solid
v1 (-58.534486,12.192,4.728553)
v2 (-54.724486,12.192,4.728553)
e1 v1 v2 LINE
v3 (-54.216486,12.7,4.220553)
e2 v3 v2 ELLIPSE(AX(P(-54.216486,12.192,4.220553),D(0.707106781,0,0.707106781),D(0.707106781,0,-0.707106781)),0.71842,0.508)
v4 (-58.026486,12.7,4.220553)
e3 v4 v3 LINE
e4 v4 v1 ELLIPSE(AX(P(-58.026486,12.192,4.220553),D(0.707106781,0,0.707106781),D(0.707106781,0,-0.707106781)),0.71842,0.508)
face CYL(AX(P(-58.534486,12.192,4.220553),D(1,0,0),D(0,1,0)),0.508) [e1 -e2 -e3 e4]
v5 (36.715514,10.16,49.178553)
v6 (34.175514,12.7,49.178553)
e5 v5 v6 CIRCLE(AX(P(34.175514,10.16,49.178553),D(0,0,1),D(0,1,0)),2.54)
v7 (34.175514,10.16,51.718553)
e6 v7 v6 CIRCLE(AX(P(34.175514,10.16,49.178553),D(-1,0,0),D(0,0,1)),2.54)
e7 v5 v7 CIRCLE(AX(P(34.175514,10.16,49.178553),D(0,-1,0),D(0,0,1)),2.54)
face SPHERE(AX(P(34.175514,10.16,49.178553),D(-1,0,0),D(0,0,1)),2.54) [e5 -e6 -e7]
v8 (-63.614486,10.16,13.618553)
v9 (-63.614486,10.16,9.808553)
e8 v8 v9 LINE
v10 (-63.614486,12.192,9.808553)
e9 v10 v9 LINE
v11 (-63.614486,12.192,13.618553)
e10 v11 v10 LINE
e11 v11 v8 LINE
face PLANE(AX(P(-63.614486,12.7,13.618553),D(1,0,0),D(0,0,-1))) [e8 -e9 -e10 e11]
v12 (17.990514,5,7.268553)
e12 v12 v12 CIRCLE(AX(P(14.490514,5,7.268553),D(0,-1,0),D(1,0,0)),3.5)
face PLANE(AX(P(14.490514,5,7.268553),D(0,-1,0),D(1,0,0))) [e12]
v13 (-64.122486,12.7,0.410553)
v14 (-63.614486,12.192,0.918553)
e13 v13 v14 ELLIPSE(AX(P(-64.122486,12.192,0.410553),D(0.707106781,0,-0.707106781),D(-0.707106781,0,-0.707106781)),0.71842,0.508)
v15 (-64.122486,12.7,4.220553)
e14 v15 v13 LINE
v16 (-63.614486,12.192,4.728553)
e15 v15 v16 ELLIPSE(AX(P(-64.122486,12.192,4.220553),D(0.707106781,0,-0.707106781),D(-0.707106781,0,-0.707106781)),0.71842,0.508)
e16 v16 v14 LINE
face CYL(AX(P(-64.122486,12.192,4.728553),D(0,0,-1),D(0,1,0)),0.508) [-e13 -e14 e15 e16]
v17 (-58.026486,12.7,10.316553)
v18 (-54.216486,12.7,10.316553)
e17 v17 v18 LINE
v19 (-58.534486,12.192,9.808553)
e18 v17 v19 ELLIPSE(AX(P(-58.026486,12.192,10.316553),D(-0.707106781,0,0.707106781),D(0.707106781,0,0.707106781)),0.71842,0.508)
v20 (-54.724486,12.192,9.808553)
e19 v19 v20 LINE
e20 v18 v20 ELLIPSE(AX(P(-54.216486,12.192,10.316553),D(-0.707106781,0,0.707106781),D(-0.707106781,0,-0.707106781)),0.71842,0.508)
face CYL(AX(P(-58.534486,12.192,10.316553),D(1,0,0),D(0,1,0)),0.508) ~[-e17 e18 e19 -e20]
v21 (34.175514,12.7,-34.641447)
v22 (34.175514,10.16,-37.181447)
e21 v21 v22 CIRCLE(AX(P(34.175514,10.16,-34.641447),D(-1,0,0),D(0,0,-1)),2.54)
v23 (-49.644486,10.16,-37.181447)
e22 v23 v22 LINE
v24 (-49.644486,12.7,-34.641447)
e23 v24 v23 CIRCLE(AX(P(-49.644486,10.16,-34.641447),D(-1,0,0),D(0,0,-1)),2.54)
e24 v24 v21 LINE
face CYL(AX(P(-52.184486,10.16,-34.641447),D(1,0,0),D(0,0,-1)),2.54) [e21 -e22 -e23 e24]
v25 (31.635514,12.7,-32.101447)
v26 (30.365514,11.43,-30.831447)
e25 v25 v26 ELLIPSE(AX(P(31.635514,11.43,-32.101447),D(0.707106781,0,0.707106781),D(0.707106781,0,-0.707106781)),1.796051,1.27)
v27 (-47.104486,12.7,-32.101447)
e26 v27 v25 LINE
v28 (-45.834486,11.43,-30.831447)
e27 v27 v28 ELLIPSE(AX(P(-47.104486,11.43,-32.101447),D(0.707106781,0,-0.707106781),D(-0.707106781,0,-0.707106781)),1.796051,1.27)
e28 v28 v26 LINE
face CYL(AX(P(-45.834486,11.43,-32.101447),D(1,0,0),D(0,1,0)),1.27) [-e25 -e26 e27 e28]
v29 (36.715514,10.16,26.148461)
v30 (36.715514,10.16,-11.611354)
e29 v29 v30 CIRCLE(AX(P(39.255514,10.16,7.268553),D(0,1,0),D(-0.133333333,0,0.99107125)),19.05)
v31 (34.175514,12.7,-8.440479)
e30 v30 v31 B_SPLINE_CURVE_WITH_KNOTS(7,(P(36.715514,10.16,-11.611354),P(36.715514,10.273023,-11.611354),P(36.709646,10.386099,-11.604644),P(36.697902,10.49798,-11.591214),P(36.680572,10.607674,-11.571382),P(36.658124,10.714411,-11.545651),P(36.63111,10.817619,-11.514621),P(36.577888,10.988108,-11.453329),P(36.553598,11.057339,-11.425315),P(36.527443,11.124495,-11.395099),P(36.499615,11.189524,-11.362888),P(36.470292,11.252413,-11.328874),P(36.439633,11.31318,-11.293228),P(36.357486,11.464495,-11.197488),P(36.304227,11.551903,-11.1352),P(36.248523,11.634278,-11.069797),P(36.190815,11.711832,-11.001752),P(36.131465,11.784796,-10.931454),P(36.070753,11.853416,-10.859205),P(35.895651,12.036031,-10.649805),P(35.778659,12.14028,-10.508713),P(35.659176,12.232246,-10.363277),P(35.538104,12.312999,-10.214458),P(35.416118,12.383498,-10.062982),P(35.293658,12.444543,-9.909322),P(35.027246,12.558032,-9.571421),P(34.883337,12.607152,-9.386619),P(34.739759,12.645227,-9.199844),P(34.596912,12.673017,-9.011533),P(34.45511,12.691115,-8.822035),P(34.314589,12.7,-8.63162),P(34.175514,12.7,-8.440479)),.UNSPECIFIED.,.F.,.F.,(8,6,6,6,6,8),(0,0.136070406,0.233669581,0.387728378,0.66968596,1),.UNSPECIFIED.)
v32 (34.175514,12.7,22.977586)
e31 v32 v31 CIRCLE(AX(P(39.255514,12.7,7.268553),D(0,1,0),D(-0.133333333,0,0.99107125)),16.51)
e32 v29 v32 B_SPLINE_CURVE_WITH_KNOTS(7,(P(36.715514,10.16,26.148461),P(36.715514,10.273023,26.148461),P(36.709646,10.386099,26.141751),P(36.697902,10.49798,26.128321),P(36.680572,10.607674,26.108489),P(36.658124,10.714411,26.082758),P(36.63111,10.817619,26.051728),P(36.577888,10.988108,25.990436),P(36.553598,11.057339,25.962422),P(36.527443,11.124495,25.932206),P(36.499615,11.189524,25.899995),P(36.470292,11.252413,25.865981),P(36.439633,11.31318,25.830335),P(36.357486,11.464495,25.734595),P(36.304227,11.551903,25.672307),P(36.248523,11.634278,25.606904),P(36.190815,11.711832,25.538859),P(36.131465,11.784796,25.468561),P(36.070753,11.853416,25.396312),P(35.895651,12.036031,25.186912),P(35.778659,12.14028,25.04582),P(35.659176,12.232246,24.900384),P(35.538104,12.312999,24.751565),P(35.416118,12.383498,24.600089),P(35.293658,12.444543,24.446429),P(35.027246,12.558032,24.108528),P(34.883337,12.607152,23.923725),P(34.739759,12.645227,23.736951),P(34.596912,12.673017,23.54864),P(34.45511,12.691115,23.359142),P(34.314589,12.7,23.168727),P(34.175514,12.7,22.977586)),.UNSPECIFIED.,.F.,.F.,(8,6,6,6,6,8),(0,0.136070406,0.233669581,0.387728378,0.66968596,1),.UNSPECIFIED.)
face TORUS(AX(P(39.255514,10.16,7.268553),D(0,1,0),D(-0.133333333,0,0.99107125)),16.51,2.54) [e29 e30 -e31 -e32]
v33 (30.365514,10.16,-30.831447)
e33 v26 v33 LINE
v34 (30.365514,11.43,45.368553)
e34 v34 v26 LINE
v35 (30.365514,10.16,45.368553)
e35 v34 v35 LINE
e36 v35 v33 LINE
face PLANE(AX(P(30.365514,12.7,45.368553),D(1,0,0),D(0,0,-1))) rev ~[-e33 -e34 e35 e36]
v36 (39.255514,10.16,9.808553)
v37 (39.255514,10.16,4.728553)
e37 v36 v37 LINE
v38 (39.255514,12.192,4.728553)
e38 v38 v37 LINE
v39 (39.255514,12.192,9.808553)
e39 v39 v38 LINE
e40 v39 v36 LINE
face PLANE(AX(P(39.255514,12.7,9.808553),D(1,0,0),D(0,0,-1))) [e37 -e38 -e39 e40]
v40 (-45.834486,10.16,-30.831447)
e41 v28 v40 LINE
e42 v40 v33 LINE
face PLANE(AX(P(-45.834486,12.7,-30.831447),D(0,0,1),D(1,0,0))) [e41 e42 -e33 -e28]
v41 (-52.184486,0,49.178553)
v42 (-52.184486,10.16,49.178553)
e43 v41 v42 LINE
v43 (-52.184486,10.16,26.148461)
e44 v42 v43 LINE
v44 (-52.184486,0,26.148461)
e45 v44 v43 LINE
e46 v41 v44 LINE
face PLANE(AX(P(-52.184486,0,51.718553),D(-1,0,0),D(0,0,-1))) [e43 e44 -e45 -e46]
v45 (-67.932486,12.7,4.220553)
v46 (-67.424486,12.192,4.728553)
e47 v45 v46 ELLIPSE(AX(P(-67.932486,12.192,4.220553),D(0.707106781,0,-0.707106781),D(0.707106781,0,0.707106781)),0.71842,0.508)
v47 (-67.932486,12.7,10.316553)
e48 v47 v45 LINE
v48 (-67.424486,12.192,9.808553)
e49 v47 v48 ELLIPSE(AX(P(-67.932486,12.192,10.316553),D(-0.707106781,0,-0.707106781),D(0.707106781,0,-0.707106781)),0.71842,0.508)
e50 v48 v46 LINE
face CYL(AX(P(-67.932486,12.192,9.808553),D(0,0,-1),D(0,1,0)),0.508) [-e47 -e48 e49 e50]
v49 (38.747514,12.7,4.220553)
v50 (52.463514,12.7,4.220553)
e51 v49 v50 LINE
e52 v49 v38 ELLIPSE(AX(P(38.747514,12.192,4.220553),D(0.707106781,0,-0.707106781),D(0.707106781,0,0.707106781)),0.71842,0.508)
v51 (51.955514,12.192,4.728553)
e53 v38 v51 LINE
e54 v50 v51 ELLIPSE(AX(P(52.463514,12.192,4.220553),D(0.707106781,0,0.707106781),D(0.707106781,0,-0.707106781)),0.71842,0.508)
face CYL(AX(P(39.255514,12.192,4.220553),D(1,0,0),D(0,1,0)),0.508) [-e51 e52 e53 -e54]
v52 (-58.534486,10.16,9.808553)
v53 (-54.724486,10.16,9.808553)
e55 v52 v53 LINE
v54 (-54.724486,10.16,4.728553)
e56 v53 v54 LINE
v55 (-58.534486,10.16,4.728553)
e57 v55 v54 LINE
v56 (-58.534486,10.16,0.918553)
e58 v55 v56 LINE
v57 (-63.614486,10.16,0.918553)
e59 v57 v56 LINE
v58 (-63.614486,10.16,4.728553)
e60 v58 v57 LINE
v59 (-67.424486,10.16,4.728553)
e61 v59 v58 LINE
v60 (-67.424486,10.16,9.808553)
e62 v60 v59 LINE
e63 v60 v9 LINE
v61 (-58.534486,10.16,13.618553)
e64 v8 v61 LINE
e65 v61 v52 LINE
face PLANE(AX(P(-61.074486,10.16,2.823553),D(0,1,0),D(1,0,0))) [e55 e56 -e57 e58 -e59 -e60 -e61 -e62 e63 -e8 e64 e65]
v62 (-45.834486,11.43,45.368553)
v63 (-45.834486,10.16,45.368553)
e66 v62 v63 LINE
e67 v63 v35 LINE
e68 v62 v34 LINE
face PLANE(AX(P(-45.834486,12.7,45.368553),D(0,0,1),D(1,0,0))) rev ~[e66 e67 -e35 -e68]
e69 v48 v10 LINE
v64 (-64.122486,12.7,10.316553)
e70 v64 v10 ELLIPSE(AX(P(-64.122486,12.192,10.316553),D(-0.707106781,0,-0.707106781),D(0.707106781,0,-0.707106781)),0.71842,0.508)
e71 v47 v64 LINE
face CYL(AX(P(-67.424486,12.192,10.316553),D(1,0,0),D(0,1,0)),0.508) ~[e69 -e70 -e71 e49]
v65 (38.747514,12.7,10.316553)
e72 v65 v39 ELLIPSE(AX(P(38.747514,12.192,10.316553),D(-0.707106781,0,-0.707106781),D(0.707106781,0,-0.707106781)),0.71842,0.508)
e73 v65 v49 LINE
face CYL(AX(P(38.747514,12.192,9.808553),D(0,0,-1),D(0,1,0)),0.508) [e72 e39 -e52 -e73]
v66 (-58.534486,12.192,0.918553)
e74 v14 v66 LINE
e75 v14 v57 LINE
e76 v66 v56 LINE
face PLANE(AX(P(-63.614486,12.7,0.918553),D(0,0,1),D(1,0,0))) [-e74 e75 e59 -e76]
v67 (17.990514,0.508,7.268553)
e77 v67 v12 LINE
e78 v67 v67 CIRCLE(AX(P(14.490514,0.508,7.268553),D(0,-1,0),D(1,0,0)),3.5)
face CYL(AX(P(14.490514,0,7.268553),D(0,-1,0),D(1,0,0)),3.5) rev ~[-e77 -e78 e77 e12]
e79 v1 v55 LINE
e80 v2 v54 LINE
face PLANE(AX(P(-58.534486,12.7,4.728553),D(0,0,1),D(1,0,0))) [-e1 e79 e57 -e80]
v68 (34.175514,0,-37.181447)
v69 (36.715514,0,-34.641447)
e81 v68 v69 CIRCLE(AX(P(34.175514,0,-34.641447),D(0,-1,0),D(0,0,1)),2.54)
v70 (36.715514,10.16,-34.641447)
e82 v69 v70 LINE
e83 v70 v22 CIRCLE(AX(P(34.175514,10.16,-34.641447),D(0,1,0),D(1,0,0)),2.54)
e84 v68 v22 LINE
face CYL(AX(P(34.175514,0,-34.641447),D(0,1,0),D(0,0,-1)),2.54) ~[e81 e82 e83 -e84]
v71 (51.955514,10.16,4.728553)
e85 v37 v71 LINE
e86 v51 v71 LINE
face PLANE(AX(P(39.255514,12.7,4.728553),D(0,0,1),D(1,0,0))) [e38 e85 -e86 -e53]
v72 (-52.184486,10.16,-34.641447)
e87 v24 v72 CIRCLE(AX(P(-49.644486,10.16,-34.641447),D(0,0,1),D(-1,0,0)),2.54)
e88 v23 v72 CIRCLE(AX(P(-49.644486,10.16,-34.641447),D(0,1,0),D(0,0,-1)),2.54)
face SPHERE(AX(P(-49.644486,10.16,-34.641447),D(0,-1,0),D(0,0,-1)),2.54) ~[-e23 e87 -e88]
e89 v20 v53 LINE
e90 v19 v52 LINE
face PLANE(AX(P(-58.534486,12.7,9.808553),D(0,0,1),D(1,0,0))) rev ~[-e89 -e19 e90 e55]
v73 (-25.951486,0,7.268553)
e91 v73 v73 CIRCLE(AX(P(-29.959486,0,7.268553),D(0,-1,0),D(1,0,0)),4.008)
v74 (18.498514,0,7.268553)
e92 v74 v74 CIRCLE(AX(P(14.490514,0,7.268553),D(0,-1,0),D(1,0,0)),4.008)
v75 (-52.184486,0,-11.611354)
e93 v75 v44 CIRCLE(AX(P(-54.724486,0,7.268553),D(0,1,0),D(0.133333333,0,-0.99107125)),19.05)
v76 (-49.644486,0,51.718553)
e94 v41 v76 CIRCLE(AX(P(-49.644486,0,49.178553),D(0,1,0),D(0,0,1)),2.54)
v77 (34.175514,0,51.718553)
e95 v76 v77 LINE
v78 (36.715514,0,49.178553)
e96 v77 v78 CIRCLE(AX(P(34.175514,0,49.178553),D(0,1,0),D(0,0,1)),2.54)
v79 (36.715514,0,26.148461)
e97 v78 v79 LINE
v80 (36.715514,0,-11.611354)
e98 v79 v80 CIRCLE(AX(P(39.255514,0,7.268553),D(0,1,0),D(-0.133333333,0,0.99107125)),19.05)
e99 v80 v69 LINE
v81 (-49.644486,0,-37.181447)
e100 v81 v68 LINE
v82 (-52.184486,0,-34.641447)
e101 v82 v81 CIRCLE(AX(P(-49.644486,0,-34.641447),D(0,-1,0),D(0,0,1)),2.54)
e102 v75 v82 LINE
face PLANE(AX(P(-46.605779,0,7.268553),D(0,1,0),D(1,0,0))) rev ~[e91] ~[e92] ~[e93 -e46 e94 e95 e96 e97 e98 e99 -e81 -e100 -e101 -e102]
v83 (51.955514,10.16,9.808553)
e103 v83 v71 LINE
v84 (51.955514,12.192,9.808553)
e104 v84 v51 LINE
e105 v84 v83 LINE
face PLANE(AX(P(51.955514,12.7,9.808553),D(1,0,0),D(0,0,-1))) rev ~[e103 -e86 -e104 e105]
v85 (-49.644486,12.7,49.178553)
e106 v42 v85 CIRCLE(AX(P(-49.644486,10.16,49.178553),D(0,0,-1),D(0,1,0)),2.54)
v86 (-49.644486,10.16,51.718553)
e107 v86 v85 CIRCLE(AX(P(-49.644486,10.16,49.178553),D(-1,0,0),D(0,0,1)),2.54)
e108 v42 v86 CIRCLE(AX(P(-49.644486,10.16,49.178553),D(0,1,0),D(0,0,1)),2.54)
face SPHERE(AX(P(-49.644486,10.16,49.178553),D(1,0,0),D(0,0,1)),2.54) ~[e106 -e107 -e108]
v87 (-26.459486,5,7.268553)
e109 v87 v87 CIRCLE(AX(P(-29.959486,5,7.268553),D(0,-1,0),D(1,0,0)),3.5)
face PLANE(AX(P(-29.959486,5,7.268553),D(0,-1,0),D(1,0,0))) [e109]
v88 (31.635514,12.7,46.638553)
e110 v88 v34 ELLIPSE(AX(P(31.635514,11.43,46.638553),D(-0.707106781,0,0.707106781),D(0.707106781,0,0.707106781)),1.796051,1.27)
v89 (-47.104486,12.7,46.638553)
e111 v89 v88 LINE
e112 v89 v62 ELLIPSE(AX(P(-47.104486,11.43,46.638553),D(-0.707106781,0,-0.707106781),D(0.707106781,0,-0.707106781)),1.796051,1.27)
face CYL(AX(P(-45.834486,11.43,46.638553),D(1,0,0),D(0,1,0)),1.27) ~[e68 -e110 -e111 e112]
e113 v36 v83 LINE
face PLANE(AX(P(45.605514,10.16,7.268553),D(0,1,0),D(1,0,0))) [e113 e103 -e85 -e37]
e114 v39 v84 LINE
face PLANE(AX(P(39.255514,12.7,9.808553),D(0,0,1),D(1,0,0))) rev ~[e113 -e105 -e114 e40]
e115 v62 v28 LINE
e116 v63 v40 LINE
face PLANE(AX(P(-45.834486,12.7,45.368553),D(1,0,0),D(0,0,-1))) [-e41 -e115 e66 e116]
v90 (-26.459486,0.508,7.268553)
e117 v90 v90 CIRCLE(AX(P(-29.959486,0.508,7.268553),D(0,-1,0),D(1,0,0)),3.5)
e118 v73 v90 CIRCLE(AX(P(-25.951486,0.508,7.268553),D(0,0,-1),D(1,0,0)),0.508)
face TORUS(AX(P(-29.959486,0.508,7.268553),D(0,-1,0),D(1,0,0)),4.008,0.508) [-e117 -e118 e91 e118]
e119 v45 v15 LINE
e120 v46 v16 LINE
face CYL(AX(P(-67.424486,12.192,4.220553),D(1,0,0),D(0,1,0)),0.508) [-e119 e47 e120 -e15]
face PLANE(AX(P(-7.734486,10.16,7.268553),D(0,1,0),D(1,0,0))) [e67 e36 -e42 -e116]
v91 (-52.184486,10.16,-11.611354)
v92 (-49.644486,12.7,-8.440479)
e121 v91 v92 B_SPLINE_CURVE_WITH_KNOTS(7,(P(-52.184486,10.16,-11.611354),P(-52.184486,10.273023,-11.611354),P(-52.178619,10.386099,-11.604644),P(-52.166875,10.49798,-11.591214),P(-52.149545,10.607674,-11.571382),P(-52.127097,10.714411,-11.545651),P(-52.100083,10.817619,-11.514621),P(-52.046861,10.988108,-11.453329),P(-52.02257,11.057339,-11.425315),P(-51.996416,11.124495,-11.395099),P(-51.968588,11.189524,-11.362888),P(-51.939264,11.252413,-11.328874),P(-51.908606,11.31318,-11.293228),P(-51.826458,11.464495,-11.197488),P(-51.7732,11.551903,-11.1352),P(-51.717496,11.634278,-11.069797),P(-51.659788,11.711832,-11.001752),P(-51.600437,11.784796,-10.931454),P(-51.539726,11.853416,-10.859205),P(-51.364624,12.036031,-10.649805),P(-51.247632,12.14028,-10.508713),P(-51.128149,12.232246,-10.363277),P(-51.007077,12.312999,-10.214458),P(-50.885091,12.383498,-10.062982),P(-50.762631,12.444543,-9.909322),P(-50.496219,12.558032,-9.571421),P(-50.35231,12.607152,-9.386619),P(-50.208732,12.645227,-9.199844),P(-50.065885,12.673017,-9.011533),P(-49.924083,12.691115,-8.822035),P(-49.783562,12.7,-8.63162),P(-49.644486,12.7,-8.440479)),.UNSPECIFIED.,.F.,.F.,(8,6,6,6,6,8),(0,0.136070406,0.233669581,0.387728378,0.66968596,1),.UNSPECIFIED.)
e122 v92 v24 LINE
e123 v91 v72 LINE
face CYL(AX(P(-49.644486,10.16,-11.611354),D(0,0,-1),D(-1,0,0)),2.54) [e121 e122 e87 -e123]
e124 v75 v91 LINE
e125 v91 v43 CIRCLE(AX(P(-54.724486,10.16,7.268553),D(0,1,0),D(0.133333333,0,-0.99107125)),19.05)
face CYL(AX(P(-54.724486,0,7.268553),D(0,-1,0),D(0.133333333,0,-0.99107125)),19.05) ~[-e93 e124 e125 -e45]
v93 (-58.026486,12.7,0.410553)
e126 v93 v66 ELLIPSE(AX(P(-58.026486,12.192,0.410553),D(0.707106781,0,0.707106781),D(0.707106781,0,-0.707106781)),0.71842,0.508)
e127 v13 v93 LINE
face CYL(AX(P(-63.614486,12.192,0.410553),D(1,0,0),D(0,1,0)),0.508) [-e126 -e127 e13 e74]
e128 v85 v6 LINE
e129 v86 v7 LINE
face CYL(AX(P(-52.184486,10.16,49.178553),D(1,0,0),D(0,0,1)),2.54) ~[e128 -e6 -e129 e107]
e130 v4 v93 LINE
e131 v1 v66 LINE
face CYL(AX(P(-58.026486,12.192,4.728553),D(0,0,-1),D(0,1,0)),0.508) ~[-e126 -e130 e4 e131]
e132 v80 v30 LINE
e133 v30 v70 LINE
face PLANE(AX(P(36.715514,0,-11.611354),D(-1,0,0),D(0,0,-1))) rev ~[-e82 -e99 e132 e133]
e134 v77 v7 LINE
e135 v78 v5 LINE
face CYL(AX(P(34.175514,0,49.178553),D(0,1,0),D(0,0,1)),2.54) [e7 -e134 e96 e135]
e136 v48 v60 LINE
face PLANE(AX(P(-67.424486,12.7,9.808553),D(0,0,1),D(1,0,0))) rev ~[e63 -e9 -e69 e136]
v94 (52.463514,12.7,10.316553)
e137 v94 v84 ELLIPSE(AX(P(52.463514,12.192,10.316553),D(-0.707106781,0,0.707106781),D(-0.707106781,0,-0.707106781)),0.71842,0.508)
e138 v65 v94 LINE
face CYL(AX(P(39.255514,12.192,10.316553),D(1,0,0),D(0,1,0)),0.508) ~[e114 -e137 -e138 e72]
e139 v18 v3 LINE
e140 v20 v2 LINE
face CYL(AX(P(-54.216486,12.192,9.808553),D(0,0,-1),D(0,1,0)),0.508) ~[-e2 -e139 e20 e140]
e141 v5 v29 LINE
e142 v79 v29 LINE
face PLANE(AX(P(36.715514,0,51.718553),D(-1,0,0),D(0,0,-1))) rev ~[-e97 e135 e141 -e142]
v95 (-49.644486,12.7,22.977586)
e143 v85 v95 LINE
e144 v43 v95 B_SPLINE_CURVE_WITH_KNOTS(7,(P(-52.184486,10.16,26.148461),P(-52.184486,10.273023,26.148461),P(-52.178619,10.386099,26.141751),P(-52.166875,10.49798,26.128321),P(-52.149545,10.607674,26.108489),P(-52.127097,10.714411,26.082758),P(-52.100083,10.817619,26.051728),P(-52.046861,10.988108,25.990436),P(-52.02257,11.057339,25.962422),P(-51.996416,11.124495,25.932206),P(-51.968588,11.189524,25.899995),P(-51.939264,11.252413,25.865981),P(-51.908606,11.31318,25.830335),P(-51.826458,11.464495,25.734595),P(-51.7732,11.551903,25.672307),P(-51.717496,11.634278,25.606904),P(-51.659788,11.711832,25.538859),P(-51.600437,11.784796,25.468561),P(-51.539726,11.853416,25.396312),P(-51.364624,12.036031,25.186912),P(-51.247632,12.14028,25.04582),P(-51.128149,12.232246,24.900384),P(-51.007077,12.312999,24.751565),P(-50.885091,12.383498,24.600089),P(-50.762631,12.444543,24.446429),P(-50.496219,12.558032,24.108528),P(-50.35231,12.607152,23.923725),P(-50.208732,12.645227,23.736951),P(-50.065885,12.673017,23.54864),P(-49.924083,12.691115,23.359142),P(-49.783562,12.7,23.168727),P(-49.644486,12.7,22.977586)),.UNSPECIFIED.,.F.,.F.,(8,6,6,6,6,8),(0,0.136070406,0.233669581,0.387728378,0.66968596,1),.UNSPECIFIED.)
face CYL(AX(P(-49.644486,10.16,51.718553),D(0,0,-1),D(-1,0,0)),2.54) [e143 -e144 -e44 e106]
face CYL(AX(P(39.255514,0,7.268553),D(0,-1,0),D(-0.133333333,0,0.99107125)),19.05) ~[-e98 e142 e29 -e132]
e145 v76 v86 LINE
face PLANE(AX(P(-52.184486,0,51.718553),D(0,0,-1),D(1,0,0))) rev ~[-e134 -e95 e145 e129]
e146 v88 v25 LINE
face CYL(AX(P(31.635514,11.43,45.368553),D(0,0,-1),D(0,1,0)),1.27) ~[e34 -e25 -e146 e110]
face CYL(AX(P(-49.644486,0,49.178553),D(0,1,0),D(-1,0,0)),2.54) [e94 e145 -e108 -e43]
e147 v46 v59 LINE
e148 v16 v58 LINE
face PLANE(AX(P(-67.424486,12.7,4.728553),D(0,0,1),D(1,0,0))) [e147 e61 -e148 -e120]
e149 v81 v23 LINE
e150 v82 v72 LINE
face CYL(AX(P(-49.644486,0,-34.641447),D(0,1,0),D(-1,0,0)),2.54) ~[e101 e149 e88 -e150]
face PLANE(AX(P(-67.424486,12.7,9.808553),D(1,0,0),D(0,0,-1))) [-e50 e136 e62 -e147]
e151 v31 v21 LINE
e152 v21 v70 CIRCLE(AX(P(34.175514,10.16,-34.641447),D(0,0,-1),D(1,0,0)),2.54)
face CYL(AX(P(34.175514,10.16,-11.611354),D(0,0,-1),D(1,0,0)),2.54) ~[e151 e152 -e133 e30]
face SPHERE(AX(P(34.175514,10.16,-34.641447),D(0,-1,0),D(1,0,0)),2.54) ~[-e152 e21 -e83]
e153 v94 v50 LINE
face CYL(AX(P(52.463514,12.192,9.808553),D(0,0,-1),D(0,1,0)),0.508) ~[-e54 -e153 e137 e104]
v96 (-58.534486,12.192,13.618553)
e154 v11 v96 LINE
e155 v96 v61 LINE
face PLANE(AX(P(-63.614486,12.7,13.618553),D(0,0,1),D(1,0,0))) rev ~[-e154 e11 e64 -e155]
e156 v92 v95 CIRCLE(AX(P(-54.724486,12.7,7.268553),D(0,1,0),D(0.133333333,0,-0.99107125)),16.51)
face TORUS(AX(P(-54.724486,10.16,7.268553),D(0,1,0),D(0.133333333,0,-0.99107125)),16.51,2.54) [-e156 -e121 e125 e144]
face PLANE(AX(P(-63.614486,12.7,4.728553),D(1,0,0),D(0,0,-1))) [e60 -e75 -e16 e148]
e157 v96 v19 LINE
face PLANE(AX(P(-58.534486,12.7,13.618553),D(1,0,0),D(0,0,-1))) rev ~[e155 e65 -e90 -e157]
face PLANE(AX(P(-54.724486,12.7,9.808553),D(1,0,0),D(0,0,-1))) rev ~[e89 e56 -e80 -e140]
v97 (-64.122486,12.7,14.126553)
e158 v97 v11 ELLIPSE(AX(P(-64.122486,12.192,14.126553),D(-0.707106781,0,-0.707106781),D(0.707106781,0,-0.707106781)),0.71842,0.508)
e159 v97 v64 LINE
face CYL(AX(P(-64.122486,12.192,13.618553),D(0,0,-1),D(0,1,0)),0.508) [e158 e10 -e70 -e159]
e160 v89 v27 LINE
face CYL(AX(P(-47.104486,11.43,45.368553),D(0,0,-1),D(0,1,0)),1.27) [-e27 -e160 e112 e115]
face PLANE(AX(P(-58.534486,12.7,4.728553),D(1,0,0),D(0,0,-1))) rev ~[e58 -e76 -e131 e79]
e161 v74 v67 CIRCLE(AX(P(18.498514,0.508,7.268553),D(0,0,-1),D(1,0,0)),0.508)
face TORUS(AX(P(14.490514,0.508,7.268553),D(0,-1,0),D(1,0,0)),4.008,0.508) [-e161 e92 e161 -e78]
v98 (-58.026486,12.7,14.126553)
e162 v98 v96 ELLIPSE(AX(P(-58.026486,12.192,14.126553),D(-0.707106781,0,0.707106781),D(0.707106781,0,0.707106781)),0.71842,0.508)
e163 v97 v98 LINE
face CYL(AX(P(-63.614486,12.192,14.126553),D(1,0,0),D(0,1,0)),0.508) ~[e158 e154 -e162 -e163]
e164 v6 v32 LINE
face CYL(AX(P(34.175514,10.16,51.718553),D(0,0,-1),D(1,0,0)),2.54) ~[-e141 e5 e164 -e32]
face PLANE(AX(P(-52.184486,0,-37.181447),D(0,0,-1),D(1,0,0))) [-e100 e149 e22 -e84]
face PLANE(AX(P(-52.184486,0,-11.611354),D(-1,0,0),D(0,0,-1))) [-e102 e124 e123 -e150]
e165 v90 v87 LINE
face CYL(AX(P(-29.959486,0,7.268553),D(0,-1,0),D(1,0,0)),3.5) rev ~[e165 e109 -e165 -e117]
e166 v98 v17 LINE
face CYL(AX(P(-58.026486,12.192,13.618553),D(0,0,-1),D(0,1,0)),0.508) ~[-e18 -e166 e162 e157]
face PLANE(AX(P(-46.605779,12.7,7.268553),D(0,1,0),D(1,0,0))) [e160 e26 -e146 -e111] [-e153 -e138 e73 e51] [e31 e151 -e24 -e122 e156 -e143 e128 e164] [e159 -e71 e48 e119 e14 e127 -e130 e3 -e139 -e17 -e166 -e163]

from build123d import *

# Parameters (mm, degrees)
SKETCH1_R           = 19.05
SKETCH1_W           = 88.9
SKETCH1_H           = 88.9
BOSS_EXTRUDE1_DEPTH = 12.7
SKETCH2_W           = 76.2
SKETCH2_H           = 76.2
CUT_EXTRUDE1_DEPTH  = 2.54
SKETCH3_W           = 5.08
SKETCH3_H           = 3.81
SKETCH3_W_2         = 3.81
SKETCH3_H_2         = 5.08
SKETCH3_W_3         = 12.7
CUT_EXTRUDE2_DEPTH  = 2.54
SKETCH4_R           = 3.5
CUT_EXTRUDE4_DEPTH  = 5
FILLET8_R           = 0.508
FILLET9_R           = 2.54
FILLET10_R          = 0.508
FILLET11_R          = 1.27


with BuildPart() as part:
    # Sketch1 → Boss-Extrude1 (new body)
    with BuildSketch(Plane(origin=(0, 0, 0), x_dir=(1, 0, 0), z_dir=(0, 1, 0))):
        with BuildLine():
            ThreePointArc((-35.674486373, -7.268553459), (-40.384167339, 5.271691754), (-52.184486373, 11.61135385))
            Line((-52.184486373, 11.61135385), (-52.184486373, -26.148460768))
            ThreePointArc((-52.184486373, -26.148460768), (-40.384167339, -19.808798672), (-35.674486373, -7.268553459))
        make_face()
        with BuildLine():
            Line((-52.184486373, -26.148460768), (-52.184486373, 11.61135385))
            ThreePointArc((-52.184486373, 11.61135385), (-73.774486373, -7.268553459), (-52.184486373, -26.148460768))
        make_face()
        with Locations((39.255513627, -7.268553459)):
            Circle(SKETCH1_R)
        with Locations((-54.724486373, -7.268553459)):
            Circle(SKETCH1_R)
        with Locations((-7.734486373, -7.268553459)):
            Rectangle(SKETCH1_W, SKETCH1_H)
        with BuildLine():
            ThreePointArc((58.305513627, -7.268553459), (51.79575884, 7.071765575), (36.715513627, 11.61135385))
            Line((36.715513627, 11.61135385), (36.715513627, -26.148460768))
            ThreePointArc((36.715513627, -26.148460768), (51.79575884, -21.608872493), (58.305513627, -7.268553459))
        make_face()
        with BuildLine():
            Line((36.715513627, -26.148460768), (36.715513627, 11.61135385))
            ThreePointArc((36.715513627, 11.61135385), (20.205513627, -7.268553459), (36.715513627, -26.148460768))
        make_face()
    extrude(amount=BOSS_EXTRUDE1_DEPTH)

    # Sketch2 → Cut-Extrude1 (cut)
    with BuildSketch(Plane(origin=(0, 12.7, 0), x_dir=(1, 0, 0), z_dir=(0, 1, 0))):
        with Locations((-7.734486373, -7.268553459)):
            Rectangle(SKETCH2_W, SKETCH2_H)
    extrude(amount=-CUT_EXTRUDE1_DEPTH, mode=Mode.SUBTRACT)

    # Sketch3 → Cut-Extrude2 (cut)
    with BuildSketch(Plane(origin=(0, 12.7, 0), x_dir=(1, 0, 0), z_dir=(0, 1, 0))):
        with Locations((-61.074486373, -2.823553459)):
            Rectangle(SKETCH3_W, SKETCH3_H)
        with Locations((-65.519486373, -7.268553459)):
            Rectangle(SKETCH3_W_2, SKETCH3_H_2)
        with Locations((-61.074486373, -7.268553459)):
            Rectangle(SKETCH3_W, SKETCH3_H_2)
        with Locations((-56.629486373, -7.268553459)):
            Rectangle(SKETCH3_W_2, SKETCH3_H_2)
        with Locations((-61.074486373, -11.713553459)):
            Rectangle(SKETCH3_W, SKETCH3_H)
        with Locations((45.605513627, -7.268553459)):
            Rectangle(SKETCH3_W_3, SKETCH3_H_2)
    extrude(amount=-CUT_EXTRUDE2_DEPTH, mode=Mode.SUBTRACT)

    # Sketch4 → Cut-Extrude4 (cut)
    with BuildSketch(Plane.XZ):
        with Locations((-29.959486373, 7.268553459)):
            Circle(SKETCH4_R)
        with Locations((14.490513627, 7.268553459)):
            Circle(SKETCH4_R)
    extrude(amount=-CUT_EXTRUDE4_DEPTH, mode=Mode.SUBTRACT)

    # Fillet8
    fillet8_edges = [part.edges().sort_by_distance(p)[0] for p in [
        (-33.459486373, 0, 7.268553459),
        (10.990513627, 0, 7.268553459),
    ]]
    fillet(fillet8_edges, radius=FILLET8_R)

    # Fillet9
    fillet9_edges = [part.edges().sort_by_distance(p)[0] for p in [
        (-7.734486373, 12.7, 51.718553459),
        (-52.184486373, 6.35, -37.181446541),
        (36.715513627, 6.35, -37.181446541),
        (36.715513627, 6.35, 51.718553459),
        (-52.184486373, 6.35, 51.718553459),
        (36.715513627, 12.7, 38.933507114),
        (58.305513627, 12.7, 7.268553459),
        (36.715513627, 12.7, -24.396400195),
        (-7.734486373, 12.7, -37.181446541),
        (-52.184486373, 12.7, -24.396400195),
        (-73.774486373, 12.7, 7.268553459),
        (-52.184486373, 12.7, 38.933507114),
    ]]
    fillet(fillet9_edges, radius=FILLET9_R)

    # Fillet10
    fillet10_edges = [part.edges().sort_by_distance(p)[0] for p in [
        (-63.614486373, 12.7, 2.823553459),
        (-61.074486373, 12.7, 0.918553459),
        (-54.724486373, 12.7, 7.268553459),
        (-56.629486373, 12.7, 9.808553459),
        (-63.614486373, 12.7, 11.713553459),
        (-65.519486373, 12.7, 9.808553459),
        (-65.519486373, 12.7, 4.728553459),
        (-67.424486373, 12.7, 7.268553459),
        (-61.074486373, 12.7, 13.618553459),
        (-58.534486373, 12.7, 11.713553459),
        (-56.629486373, 12.7, 4.728553459),
        (-58.534486373, 12.7, 2.823553459),
        (51.955513627, 12.7, 7.268553459),
        (45.605513627, 12.7, 4.728553459),
        (39.255513627, 12.7, 7.268553459),
        (45.605513627, 12.7, 9.808553459),
    ]]
    fillet(fillet10_edges, radius=FILLET10_R)

    # Fillet11
    fillet11_edges = [part.edges().sort_by_distance(p)[0] for p in [
        (-45.834486373, 12.7, 7.268553459),
        (-7.734486373, 12.7, 45.368553459),
        (30.365513627, 12.7, 7.268553459),
        (-7.734486373, 12.7, -30.831446541),
    ]]
    fillet(fillet11_edges, radius=FILLET11_R)


solid = part.part
